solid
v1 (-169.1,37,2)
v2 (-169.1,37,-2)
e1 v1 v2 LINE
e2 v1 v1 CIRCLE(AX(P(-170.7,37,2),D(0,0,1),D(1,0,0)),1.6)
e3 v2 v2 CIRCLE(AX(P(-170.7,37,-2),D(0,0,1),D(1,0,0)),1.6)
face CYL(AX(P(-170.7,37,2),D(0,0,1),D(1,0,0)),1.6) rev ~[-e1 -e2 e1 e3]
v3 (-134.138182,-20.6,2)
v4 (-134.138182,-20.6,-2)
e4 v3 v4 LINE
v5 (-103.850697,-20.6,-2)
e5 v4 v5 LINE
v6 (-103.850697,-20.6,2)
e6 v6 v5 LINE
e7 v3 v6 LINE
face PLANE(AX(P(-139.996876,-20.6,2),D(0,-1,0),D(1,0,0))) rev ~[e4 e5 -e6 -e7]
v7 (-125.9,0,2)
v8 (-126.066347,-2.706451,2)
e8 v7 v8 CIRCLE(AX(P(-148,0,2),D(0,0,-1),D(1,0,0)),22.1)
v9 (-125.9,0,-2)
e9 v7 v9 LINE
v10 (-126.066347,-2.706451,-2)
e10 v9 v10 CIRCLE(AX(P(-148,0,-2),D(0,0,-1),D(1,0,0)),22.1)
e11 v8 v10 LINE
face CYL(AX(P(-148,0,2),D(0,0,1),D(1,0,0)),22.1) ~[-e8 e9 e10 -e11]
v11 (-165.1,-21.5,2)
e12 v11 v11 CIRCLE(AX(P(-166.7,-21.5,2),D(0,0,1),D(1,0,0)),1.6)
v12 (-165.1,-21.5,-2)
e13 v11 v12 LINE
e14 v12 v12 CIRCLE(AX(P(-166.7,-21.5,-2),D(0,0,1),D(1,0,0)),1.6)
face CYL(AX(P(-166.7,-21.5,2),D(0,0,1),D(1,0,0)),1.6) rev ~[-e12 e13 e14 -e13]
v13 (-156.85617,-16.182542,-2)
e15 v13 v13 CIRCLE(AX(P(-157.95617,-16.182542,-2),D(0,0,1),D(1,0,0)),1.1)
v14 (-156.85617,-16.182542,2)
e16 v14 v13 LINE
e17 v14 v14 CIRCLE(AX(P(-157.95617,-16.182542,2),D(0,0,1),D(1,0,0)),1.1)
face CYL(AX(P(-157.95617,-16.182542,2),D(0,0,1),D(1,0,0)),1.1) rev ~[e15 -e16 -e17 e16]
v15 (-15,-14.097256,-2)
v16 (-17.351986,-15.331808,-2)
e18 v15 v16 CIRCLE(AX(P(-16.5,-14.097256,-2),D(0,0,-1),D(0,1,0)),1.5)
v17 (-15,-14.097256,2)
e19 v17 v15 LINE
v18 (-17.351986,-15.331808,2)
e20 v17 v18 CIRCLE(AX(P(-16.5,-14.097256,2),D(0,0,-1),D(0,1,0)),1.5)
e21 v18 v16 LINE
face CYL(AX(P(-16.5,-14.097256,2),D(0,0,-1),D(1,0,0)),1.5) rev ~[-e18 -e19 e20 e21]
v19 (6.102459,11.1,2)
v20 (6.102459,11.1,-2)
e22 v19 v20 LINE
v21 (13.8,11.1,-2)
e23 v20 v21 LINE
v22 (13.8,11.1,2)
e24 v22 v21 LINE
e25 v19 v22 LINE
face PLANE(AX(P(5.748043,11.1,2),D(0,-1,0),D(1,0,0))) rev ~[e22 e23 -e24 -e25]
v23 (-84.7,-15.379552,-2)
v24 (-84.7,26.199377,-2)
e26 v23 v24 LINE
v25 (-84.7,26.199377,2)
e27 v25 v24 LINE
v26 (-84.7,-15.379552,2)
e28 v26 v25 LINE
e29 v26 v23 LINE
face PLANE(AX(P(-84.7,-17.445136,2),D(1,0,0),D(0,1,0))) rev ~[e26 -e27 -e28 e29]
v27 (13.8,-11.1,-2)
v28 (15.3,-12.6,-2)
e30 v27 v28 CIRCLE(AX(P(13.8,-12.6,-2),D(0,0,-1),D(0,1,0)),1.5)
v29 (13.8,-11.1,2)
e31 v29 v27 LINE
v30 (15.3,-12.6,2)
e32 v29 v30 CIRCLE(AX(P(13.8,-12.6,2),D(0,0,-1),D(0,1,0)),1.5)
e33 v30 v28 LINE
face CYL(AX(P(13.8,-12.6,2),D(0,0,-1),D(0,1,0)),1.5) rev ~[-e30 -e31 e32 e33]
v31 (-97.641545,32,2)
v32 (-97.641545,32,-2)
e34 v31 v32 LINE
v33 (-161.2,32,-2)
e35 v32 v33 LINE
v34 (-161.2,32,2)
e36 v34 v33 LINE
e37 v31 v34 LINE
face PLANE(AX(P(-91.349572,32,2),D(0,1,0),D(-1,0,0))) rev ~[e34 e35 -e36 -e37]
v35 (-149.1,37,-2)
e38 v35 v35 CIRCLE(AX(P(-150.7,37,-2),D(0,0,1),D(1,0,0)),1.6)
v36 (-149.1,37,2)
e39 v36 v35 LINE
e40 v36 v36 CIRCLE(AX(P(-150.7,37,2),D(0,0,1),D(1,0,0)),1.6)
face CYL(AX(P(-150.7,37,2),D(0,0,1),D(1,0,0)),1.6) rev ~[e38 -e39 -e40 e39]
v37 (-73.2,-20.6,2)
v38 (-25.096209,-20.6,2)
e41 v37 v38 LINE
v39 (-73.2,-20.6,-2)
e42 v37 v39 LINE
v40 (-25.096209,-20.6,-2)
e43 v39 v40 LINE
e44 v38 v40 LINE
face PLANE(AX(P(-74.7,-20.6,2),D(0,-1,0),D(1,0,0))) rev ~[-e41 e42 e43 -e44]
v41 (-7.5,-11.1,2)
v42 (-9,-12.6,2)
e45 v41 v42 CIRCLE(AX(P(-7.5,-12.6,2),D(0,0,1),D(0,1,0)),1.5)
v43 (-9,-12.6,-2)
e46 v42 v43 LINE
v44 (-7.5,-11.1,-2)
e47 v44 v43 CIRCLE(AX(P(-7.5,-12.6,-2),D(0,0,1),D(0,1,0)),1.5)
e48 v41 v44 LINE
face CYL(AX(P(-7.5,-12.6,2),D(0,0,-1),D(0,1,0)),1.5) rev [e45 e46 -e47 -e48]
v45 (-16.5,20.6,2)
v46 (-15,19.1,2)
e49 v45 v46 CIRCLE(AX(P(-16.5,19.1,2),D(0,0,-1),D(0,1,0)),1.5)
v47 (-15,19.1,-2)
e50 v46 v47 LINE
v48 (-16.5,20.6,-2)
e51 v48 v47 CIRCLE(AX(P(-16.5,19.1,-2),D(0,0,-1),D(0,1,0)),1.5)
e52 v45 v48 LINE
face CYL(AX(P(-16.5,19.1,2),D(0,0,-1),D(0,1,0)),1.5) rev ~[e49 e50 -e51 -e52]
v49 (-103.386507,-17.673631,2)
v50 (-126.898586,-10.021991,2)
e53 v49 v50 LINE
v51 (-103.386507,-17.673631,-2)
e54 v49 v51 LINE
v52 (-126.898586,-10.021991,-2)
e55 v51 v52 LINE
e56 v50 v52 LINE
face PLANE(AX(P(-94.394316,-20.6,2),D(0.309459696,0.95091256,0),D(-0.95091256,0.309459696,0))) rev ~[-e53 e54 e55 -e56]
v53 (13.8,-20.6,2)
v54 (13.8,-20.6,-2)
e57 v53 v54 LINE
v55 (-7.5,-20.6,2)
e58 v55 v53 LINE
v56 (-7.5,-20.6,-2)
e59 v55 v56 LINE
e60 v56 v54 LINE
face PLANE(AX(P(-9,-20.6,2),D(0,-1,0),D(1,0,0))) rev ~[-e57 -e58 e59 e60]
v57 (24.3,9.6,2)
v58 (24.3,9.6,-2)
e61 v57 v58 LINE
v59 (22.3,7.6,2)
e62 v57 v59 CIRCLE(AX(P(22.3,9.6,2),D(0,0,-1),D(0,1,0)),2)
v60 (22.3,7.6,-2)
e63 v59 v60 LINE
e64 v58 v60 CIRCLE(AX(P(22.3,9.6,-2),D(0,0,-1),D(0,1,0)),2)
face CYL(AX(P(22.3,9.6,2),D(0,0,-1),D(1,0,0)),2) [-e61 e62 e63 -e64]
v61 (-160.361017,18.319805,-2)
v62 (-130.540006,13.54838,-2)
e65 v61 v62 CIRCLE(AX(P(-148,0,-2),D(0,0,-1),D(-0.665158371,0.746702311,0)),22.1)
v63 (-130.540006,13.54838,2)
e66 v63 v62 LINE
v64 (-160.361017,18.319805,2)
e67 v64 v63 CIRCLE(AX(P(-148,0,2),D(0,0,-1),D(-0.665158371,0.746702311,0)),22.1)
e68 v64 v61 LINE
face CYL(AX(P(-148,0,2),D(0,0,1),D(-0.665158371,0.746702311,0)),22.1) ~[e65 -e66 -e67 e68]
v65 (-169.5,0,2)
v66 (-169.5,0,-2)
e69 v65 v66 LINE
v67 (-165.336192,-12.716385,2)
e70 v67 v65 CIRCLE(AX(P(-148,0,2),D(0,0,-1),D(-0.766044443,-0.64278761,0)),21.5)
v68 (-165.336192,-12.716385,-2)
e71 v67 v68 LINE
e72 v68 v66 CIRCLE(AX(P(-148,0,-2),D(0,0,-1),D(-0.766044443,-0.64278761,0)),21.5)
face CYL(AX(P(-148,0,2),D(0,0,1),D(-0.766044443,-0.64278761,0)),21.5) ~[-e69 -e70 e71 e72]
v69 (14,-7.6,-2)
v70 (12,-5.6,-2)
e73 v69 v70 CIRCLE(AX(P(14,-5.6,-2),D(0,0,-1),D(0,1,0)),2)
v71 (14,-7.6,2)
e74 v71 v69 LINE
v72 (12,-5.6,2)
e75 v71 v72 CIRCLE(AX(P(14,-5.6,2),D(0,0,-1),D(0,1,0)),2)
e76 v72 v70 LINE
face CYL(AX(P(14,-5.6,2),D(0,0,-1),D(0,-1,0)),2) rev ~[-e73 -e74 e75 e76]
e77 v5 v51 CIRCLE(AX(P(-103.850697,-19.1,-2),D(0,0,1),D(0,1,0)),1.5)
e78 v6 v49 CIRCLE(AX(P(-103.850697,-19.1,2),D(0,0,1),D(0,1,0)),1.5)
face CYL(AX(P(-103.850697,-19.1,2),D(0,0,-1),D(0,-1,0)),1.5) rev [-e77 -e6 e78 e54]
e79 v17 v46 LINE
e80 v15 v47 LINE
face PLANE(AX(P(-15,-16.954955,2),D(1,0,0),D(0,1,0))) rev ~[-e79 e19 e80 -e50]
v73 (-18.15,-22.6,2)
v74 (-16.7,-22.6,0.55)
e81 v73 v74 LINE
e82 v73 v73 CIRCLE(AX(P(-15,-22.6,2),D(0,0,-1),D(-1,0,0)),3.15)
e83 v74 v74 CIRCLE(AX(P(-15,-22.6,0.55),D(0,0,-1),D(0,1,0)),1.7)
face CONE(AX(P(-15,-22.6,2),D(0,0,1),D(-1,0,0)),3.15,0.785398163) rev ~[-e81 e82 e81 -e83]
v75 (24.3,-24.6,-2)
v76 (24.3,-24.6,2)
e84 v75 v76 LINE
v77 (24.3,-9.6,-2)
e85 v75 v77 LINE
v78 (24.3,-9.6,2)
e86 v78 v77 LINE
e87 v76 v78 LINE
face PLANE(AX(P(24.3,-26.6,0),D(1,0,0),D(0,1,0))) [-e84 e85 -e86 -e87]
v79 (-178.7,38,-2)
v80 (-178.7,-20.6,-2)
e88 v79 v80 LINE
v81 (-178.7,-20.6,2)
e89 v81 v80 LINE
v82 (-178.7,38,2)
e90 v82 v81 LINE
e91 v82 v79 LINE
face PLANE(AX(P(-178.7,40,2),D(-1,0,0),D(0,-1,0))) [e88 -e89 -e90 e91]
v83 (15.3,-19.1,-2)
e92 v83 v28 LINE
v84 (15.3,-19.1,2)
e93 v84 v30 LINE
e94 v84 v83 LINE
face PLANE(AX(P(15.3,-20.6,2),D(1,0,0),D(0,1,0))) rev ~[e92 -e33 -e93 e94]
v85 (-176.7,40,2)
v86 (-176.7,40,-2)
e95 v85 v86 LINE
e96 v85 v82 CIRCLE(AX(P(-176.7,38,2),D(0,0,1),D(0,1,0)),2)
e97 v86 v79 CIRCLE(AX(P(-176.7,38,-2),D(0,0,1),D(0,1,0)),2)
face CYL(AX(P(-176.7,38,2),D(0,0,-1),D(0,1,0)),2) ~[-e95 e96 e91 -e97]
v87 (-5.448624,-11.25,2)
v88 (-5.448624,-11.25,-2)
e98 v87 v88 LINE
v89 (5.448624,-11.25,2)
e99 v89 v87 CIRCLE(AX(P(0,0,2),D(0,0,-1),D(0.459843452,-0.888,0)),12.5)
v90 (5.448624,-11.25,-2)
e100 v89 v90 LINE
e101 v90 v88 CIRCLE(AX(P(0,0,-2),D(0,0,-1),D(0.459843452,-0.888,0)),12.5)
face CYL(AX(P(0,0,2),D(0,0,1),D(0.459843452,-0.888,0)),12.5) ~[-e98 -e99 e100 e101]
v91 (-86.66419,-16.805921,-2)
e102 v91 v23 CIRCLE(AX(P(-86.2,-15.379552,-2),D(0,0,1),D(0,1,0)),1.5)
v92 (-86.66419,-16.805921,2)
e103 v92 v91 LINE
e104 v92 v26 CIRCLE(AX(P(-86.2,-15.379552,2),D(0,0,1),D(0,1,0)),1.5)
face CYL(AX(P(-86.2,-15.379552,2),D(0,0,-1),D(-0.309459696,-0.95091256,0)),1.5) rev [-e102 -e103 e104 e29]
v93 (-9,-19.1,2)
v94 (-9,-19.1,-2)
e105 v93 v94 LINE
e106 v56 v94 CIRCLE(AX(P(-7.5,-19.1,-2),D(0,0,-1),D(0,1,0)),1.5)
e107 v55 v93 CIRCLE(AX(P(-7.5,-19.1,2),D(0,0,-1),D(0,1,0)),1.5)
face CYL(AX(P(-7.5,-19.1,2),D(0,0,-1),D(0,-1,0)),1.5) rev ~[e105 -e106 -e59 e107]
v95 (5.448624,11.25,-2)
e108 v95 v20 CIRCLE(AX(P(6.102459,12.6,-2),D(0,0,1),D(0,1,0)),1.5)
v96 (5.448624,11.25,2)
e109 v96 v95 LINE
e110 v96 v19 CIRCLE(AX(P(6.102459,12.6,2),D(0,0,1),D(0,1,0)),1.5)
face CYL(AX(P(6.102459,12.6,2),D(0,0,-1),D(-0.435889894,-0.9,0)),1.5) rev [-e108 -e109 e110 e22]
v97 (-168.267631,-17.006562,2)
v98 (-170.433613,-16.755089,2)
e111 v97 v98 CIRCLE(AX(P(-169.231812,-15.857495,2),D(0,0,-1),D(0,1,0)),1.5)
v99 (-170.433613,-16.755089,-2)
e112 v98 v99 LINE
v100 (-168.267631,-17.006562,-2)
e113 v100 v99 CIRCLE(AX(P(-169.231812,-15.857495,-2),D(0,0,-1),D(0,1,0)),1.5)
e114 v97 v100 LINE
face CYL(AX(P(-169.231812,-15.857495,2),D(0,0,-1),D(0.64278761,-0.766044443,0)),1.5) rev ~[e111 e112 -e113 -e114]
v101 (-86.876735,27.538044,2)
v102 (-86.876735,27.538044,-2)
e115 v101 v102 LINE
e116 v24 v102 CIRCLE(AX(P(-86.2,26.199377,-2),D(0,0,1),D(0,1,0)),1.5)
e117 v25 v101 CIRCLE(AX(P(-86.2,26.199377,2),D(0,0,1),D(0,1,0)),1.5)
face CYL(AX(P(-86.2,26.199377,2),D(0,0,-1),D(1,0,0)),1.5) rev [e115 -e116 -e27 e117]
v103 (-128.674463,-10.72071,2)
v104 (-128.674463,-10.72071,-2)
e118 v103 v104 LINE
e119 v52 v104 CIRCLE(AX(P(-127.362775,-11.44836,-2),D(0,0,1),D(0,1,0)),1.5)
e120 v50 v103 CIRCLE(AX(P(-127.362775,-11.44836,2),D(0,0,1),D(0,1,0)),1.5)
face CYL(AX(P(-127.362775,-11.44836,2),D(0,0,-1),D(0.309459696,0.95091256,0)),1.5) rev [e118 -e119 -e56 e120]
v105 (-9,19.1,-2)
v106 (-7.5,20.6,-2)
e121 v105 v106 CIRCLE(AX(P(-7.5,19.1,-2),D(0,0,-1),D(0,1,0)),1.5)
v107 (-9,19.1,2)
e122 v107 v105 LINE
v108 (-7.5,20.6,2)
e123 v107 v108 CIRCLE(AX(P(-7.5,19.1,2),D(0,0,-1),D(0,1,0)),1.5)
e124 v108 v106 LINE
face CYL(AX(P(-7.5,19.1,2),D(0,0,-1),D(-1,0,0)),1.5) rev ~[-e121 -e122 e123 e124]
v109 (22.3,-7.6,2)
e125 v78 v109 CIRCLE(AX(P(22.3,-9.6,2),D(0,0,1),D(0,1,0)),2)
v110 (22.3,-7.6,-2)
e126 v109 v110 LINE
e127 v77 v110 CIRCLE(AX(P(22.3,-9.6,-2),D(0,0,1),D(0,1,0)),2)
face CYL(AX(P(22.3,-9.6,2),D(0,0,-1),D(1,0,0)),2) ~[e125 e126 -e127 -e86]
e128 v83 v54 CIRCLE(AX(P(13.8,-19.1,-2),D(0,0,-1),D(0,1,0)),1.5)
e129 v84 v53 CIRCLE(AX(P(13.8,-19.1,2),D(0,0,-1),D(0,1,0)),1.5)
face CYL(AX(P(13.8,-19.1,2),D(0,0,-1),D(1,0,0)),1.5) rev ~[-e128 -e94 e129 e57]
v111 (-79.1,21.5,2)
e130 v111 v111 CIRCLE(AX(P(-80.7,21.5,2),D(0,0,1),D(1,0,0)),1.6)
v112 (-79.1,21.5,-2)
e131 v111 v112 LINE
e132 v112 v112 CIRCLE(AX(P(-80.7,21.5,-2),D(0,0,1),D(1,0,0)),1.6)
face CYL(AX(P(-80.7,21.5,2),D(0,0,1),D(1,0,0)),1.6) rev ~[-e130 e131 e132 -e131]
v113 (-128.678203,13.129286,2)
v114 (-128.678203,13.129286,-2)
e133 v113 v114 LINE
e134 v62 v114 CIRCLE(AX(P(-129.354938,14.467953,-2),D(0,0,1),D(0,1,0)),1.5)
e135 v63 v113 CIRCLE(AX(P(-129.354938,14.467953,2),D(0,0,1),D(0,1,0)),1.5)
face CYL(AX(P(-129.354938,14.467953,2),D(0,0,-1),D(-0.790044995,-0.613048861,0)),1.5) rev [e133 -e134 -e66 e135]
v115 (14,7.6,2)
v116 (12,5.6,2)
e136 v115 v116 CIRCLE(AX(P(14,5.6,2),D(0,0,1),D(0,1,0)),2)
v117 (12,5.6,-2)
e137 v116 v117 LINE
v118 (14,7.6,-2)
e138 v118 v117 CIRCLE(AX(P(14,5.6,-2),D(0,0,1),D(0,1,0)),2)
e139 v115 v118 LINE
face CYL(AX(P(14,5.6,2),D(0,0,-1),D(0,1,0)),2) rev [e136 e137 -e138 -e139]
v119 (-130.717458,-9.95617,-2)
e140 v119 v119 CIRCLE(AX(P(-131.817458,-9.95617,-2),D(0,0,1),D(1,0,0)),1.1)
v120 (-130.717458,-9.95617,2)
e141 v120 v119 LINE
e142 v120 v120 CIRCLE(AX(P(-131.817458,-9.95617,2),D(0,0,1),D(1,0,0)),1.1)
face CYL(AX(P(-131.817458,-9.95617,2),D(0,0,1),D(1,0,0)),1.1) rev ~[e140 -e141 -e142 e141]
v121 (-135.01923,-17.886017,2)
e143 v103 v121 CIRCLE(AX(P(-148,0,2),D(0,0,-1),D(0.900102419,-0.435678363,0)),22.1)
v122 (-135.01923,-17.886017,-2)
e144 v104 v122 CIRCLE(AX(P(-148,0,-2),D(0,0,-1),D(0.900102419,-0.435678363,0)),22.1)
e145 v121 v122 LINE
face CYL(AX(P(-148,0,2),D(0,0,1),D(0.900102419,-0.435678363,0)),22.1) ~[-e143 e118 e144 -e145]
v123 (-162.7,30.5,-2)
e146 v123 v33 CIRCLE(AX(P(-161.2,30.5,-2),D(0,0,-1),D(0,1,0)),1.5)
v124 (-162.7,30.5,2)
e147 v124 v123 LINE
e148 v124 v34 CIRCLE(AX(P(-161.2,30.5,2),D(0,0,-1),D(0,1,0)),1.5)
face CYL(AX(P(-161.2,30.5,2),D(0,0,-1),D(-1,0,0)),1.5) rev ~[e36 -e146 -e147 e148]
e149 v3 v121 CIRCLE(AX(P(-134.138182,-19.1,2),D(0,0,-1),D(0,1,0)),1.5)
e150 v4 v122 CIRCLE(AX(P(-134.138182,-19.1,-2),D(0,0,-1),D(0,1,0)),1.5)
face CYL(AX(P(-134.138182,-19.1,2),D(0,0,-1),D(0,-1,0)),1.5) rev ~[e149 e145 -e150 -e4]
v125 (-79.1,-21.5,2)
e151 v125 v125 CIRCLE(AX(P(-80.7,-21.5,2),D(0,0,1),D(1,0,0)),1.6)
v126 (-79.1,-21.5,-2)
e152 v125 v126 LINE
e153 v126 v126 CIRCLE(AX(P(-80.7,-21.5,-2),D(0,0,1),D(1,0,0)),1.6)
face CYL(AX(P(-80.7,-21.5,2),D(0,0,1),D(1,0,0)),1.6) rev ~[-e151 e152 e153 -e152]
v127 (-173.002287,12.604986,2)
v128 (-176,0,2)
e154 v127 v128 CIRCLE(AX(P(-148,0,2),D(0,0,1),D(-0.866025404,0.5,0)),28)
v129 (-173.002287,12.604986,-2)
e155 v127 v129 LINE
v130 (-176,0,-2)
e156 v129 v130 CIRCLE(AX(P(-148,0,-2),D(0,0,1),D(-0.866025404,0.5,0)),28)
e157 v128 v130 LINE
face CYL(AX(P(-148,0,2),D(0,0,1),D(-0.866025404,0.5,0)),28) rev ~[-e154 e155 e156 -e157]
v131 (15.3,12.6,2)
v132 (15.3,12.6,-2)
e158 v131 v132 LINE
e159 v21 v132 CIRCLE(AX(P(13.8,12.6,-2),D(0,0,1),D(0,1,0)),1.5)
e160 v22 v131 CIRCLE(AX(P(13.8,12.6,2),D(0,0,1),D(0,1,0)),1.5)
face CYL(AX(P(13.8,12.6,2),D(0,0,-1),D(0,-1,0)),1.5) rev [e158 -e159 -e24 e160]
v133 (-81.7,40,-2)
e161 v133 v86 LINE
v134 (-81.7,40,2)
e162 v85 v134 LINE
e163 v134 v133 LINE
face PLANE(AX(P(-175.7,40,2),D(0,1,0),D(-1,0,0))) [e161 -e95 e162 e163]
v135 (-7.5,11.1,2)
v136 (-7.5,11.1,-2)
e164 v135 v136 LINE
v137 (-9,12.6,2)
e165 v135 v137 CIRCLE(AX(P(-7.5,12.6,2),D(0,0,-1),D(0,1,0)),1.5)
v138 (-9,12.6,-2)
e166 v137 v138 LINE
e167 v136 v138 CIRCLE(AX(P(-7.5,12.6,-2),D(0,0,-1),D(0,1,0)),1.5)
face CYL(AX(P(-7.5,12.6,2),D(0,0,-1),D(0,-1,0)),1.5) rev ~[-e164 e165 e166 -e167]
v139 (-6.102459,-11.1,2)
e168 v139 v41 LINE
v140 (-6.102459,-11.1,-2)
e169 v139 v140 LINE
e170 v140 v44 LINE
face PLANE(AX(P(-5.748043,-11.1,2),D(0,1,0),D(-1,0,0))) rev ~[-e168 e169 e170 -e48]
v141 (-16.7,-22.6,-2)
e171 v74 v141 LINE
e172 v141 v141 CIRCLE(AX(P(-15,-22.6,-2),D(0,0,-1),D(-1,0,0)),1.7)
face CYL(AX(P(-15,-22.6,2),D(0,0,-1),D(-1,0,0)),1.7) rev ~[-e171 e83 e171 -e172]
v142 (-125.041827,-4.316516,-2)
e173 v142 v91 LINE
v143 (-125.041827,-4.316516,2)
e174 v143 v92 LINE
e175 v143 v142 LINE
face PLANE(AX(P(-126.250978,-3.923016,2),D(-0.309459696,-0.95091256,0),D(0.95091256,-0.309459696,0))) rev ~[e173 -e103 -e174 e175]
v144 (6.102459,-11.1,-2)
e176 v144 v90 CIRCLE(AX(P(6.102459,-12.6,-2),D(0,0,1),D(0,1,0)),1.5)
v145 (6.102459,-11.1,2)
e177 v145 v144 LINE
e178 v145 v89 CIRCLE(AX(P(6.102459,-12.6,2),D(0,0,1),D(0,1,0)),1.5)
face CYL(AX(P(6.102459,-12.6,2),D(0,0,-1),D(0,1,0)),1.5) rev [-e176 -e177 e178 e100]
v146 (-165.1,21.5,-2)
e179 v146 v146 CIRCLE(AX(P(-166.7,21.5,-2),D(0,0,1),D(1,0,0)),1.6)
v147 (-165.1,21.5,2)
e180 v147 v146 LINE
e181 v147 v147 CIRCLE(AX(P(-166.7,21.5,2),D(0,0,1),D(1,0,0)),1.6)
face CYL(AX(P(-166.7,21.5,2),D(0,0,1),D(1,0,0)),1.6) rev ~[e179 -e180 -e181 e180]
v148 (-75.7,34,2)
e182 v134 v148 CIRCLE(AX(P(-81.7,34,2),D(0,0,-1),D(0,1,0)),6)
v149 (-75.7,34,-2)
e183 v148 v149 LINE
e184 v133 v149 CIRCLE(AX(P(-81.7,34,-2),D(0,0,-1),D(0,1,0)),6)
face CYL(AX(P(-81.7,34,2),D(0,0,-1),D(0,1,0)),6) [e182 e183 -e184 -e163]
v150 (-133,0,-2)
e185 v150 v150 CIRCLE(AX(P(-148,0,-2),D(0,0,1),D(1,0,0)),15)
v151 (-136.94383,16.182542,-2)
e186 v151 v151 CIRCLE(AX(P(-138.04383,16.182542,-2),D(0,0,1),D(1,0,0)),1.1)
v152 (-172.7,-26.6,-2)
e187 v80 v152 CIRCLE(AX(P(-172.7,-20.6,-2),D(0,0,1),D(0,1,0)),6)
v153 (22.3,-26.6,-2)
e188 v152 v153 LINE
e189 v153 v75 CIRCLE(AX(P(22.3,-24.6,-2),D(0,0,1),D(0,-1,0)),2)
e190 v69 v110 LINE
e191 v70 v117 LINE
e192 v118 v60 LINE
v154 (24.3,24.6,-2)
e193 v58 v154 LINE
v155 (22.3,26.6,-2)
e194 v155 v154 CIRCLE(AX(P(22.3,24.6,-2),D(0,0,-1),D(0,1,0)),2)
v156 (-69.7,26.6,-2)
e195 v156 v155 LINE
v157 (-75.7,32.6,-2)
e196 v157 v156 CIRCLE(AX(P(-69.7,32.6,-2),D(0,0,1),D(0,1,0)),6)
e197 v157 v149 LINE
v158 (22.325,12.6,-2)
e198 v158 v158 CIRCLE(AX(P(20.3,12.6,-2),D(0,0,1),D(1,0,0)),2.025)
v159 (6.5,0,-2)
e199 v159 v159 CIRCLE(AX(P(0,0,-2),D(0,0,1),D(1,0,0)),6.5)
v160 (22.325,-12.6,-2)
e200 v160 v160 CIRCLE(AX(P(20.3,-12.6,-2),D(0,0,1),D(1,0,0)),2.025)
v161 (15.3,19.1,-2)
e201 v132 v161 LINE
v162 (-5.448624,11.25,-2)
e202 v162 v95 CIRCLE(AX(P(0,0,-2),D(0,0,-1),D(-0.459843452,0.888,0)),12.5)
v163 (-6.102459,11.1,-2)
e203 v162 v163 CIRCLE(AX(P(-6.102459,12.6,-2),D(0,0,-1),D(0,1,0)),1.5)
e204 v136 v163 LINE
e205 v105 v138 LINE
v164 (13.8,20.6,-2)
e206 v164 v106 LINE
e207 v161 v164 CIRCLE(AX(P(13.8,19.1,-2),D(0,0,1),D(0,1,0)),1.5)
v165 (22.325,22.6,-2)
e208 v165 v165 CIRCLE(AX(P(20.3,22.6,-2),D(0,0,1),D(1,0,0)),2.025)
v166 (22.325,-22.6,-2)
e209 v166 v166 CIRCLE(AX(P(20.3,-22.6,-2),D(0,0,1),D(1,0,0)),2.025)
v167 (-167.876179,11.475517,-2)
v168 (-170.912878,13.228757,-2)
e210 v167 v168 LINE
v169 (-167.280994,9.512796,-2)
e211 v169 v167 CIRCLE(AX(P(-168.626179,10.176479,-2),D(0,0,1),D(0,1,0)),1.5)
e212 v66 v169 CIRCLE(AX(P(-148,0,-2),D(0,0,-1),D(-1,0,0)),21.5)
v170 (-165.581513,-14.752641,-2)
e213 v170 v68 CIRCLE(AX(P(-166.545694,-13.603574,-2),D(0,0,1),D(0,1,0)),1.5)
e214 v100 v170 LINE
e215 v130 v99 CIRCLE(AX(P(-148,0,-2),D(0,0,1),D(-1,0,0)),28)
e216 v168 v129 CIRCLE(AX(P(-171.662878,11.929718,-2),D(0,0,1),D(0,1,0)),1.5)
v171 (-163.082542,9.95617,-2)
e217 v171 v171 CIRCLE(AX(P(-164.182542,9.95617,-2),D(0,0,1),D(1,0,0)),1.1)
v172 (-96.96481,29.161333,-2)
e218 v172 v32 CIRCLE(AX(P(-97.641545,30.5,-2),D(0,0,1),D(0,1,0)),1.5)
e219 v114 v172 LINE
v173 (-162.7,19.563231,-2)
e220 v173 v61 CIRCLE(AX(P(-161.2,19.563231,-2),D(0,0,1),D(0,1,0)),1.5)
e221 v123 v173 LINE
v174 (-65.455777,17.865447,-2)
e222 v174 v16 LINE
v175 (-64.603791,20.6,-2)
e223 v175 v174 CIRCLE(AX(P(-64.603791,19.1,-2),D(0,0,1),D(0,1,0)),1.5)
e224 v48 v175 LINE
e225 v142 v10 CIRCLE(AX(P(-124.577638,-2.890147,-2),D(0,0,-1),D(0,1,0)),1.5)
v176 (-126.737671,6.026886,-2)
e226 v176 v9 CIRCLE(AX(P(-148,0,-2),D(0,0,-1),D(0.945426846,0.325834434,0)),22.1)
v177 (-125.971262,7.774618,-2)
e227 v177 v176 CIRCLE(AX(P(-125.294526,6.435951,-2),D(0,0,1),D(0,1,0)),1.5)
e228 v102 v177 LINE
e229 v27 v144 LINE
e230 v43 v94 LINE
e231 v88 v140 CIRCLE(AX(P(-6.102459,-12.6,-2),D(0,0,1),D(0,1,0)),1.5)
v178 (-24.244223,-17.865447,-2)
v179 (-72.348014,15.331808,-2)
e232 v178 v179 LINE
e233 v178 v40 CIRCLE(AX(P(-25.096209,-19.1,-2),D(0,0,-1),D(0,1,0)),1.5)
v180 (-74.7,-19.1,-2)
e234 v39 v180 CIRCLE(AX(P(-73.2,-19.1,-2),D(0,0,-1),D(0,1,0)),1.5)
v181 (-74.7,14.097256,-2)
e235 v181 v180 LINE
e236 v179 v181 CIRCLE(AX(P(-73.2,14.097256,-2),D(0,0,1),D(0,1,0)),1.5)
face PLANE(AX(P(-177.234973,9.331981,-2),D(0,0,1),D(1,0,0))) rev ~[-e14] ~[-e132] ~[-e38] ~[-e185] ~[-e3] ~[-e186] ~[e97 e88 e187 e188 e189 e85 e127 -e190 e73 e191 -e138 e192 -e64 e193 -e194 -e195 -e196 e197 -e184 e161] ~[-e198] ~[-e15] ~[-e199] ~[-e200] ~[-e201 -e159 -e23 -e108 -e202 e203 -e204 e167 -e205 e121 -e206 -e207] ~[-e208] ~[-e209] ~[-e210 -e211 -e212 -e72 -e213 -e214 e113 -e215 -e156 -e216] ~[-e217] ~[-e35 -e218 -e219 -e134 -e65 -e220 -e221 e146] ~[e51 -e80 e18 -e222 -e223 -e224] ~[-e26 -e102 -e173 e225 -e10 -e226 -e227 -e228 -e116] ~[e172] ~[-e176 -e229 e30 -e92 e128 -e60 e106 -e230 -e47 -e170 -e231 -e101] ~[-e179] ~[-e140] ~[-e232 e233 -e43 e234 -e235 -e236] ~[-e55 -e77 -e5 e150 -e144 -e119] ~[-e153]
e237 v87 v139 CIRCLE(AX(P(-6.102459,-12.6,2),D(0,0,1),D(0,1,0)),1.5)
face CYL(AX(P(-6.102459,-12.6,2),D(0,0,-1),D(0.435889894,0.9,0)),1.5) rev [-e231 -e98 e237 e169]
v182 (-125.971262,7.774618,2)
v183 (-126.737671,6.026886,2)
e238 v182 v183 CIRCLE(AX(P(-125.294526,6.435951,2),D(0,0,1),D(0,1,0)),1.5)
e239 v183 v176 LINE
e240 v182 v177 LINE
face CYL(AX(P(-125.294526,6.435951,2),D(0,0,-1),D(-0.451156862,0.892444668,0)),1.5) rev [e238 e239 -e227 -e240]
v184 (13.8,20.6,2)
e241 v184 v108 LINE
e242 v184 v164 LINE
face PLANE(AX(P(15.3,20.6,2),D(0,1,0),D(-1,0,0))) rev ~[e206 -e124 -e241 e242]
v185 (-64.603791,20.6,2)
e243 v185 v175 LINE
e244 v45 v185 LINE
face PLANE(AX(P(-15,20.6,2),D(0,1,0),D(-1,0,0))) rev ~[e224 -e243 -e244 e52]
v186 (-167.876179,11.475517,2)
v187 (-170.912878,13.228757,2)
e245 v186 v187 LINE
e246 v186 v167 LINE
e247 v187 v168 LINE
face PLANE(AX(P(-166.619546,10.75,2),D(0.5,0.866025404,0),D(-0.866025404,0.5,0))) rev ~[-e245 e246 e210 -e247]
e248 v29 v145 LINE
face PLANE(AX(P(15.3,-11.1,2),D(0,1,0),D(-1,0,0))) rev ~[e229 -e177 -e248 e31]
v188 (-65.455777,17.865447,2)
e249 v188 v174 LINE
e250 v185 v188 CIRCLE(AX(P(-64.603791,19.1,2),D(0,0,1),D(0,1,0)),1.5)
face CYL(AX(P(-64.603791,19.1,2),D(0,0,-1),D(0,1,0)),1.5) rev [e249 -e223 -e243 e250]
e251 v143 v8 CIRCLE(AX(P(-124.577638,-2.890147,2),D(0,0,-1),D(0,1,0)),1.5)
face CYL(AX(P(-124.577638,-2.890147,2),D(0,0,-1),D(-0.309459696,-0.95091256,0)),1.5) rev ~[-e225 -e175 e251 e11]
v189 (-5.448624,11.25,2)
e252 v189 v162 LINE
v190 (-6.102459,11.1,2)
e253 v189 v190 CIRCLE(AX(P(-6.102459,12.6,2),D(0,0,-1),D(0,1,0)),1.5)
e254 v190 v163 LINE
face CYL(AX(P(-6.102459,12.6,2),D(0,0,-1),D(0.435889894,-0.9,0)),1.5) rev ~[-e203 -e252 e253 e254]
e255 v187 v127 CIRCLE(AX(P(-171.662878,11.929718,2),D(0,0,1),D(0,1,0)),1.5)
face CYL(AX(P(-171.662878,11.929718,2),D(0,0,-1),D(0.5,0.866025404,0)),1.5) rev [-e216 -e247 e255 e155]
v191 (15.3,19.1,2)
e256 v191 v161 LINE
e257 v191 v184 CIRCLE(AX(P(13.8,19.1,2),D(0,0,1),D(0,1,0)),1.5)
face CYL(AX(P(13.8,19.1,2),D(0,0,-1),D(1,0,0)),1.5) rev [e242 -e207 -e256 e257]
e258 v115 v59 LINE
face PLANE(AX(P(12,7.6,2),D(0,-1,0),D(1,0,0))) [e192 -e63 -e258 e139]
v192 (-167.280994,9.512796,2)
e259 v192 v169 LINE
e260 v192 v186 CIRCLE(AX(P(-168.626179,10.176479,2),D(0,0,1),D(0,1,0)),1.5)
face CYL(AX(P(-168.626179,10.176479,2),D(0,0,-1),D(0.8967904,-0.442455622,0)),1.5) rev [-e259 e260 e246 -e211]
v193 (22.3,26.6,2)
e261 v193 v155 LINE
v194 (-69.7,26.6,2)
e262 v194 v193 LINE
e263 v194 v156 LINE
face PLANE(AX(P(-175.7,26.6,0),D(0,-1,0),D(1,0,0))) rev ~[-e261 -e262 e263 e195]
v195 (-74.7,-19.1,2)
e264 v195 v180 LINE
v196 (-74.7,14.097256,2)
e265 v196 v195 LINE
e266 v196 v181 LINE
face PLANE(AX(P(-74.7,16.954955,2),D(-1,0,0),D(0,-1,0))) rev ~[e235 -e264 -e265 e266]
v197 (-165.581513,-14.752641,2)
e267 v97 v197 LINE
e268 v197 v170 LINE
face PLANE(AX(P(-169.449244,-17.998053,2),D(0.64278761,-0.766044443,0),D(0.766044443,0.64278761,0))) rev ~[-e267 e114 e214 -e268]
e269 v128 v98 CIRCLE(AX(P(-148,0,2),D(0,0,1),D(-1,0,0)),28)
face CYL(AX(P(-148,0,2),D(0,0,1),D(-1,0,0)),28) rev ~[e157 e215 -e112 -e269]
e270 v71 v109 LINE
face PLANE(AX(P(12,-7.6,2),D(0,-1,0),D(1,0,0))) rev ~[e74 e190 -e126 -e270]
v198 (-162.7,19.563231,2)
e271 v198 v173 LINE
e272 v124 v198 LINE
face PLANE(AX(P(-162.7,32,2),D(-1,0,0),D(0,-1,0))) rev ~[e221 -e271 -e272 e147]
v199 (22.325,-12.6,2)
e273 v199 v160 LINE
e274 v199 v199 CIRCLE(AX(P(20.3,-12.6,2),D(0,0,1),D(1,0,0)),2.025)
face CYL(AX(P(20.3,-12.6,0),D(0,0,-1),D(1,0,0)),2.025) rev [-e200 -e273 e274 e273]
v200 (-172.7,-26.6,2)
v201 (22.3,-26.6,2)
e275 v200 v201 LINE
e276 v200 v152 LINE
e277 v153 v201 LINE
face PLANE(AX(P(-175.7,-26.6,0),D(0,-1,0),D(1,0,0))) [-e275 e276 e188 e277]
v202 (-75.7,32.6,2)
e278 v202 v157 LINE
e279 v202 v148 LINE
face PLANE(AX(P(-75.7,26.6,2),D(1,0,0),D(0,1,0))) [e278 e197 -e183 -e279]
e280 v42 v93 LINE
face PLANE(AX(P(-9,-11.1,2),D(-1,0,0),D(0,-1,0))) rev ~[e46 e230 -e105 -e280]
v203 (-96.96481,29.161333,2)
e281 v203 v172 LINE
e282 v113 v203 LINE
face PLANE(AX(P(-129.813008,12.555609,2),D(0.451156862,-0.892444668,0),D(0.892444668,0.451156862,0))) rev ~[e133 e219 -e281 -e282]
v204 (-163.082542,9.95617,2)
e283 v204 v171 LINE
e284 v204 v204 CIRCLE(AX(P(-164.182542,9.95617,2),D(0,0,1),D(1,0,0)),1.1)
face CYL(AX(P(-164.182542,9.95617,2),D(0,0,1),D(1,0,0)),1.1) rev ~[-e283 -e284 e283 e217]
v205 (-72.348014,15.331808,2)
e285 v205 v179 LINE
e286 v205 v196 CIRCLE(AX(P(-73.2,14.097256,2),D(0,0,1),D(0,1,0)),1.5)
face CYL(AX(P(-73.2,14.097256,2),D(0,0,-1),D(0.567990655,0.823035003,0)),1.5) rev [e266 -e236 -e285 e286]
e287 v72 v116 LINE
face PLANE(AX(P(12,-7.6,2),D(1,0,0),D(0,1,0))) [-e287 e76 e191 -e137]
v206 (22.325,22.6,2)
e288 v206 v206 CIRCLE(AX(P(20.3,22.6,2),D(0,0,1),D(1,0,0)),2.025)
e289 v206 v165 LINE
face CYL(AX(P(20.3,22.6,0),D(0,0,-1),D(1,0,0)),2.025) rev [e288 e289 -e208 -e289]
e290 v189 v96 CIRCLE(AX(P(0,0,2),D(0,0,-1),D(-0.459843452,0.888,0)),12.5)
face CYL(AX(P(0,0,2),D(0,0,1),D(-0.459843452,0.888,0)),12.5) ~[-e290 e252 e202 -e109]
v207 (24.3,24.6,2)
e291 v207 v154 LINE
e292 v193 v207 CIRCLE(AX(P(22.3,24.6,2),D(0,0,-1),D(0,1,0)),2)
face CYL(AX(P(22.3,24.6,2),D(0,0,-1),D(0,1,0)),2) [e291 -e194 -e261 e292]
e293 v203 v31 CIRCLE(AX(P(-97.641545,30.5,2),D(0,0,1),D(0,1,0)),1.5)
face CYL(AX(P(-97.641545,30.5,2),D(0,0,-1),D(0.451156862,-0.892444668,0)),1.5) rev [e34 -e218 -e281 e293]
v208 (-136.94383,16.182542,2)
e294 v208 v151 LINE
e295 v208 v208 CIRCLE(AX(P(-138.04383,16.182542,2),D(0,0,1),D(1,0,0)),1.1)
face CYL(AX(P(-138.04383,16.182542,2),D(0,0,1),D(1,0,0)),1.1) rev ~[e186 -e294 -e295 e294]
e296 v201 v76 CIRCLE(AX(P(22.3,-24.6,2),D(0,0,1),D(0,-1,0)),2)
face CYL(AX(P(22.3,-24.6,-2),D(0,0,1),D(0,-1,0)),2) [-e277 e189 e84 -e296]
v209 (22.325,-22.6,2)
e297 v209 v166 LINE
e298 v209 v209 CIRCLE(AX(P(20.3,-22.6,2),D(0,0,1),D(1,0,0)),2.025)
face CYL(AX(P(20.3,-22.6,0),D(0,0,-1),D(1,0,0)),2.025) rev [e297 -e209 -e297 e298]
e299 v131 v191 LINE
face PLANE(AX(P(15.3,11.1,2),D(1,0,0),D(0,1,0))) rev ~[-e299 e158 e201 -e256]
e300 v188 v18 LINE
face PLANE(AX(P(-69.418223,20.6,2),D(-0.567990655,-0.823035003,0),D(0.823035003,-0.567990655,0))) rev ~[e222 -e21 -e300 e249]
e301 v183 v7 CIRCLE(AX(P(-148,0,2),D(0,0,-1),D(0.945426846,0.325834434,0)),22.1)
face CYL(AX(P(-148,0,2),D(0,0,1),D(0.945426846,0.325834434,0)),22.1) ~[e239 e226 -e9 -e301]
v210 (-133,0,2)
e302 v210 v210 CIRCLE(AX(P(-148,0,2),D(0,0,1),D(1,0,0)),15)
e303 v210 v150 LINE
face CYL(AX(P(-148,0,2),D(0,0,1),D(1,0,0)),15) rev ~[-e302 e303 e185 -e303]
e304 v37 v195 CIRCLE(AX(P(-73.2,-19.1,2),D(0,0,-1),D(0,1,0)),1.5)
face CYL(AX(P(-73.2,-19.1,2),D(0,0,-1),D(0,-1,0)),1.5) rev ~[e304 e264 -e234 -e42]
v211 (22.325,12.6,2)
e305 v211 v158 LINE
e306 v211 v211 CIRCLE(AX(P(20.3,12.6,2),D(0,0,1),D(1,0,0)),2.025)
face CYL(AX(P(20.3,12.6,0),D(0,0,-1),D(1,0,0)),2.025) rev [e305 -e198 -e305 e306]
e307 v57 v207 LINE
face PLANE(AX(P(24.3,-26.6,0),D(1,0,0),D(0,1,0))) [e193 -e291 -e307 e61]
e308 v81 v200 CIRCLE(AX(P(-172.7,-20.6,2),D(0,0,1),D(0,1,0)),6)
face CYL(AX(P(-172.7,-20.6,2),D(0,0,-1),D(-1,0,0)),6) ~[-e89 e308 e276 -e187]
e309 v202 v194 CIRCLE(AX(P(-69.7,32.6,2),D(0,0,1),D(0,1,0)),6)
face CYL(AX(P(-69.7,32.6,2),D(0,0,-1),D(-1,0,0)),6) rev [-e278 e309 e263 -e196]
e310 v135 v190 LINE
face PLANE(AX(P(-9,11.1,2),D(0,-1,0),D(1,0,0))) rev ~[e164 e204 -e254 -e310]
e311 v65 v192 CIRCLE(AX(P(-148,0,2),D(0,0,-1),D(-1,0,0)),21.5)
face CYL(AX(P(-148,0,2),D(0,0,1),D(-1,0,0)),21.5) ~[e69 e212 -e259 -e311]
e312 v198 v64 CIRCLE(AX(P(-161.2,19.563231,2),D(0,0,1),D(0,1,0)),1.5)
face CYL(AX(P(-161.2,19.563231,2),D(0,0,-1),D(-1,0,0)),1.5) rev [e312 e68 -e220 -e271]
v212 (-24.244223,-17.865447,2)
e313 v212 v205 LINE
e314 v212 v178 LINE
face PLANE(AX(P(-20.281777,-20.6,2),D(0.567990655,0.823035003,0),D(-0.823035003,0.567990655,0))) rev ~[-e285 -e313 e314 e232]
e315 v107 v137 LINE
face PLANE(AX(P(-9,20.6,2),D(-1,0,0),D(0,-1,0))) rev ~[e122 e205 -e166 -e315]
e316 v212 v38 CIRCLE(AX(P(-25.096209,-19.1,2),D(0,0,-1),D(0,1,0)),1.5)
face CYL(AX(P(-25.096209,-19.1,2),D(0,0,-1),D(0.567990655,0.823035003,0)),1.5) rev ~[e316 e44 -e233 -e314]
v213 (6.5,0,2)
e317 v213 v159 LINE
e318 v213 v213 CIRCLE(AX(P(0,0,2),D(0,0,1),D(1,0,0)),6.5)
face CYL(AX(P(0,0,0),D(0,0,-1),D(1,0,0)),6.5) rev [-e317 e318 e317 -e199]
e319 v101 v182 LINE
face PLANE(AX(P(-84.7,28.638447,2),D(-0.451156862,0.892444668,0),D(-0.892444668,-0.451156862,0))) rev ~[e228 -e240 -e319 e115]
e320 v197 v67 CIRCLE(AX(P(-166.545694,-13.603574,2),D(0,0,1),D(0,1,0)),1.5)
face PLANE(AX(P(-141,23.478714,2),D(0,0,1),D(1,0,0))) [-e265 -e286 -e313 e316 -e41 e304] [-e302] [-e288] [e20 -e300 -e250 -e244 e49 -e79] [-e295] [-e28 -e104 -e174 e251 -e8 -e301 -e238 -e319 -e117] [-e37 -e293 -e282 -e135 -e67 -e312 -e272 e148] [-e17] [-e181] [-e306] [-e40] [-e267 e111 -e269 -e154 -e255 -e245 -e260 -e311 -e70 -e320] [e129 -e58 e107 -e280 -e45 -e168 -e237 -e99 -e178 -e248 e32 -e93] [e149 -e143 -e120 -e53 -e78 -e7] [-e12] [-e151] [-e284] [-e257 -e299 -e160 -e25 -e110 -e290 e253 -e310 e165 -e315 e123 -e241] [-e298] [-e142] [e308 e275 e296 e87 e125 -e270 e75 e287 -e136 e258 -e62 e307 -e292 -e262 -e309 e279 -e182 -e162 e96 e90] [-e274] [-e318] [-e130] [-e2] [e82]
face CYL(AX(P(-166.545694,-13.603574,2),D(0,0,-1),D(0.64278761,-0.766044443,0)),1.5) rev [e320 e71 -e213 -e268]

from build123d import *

# Parameters (mm, degrees)
SKETCH_1_W                   = 200
SKETCH_1_H                   = 53.2
SKETCH_1_R                   = 6.5
SKETCH_1_R_2                 = 2.025
EXTRUDE_1_DEPTH              = 2
SKETCH_2_R                   = 20
CUT_EXTRUDE_1_DEPTH          = 5
CUT_EXTRUDE_2_DEPTH          = 10
SKETCH_4_R                   = 1.1
CUT_EXTRUDE_3_DEPTH          = 10
SKETCH_5_W                   = 100
SKETCH_5_H                   = 13.4
SKETCH_5_R                   = 1.6
EXTRUDE_2_DEPTH              = 4
EXTRUDE_3_DEPTH              = 4
SKETCH_7_R                   = 1.1
SKETCH_7_R_2                 = 15
EXTRUDE_4_DEPTH              = 4
SKETCH_9_R                   = 1.1
CUT_EXTRUDE_4_DEPTH          = 10
SKETCH_11_R                  = 1.6
CUT_EXTRUDE_6_DEPTH          = 4
FILLET_1_R                   = 6
SKETCH_17_W                  = 12.3
SKETCH_17_H                  = 15.2
CUT_EXTRUDE_9_DEPTH          = 4
CUT_EXTRUDE_10_DEPTH         = 4
CUT_EXTRUDE_11_DEPTH         = 4
FILLET_2_R                   = 1.5
CUT_EXTRUDE_12_DEPTH         = 4
FILLET_3_R                   = 1.5
SKETCH_21_R                  = 1.55
CUT_EXTRUDE_13_DEPTH         = 10
FILLET_4_R                   = 2
HOLE_WIZARD_M3_1_D           = 3.4
HOLE_WIZARD_M3_1_CSINK_D     = 6.3
HOLE_WIZARD_M3_1_CSINK_ANGLE = 90


with BuildPart() as part:
    # 草图1 → 凸台-拉伸1 (new, symmetric)
    with BuildSketch(Plane.XY):
        with Locations((-75.7, 0)):
            Rectangle(SKETCH_1_W, SKETCH_1_H)
        Circle(SKETCH_1_R, mode=Mode.SUBTRACT)
        with Locations((20.3, 22.6)):
            Circle(SKETCH_1_R_2, mode=Mode.SUBTRACT)
        with Locations((20.3, 12.6)):
            Circle(SKETCH_1_R_2, mode=Mode.SUBTRACT)
        with Locations((20.3, -12.6)):
            Circle(SKETCH_1_R_2, mode=Mode.SUBTRACT)
        with Locations((20.3, -22.6)):
            Circle(SKETCH_1_R_2, mode=Mode.SUBTRACT)
    extrude(amount=EXTRUDE_1_DEPTH, both=True)

    # 草图2 → 切除-拉伸1 (cut)
    with BuildSketch(Plane.XY.offset(2)):
        with Locations((-148, 0)):
            Circle(SKETCH_2_R)
    extrude(amount=-CUT_EXTRUDE_1_DEPTH, mode=Mode.SUBTRACT)

    # 草图3 → 切除-拉伸2 (cut)
    with BuildSketch(Plane.XY.offset(2)):
        with BuildLine():
            Line((-136.21195189, -26.6), (-139.272801212, -12.199836119))
            ThreePointArc((-139.272801212, -12.199836119), (-152.260230171, -14.382296023), (-161.963751735, -5.47847036))
            Line((-161.963751735, -5.47847036), (-175.7, -19.214718626))
            Line((-175.7, -19.214718626), (-175.7, -26.6))
            Line((-175.7, -26.6), (-136.21195189, -26.6))
        make_face()
    extrude(amount=-CUT_EXTRUDE_2_DEPTH, mode=Mode.SUBTRACT)

    # 草图4 → 切除-拉伸3 (cut)
    with BuildSketch(Plane.XY.offset(2)):
        with Locations((-141, 23.478713764)):
            Circle(SKETCH_4_R)
        with Locations((-131.166837432, -17.801534708)):
            Circle(SKETCH_4_R)
        with Locations((-171.833162568, -5.677179055)):
            Circle(SKETCH_4_R)
    extrude(amount=-CUT_EXTRUDE_3_DEPTH, mode=Mode.SUBTRACT)

    # 草图5 → 凸台-拉伸2 (add)
    with BuildSketch(Plane.XY.offset(2)):
        with Locations((-125.7, 33.3)):
            Rectangle(SKETCH_5_W, SKETCH_5_H)
        with Locations((-170.7, 37)):
            Circle(SKETCH_5_R, mode=Mode.SUBTRACT)
        with Locations((-150.7, 37)):
            Circle(SKETCH_5_R, mode=Mode.SUBTRACT)
    extrude(amount=-EXTRUDE_2_DEPTH)

    # 草图6 → 凸台-拉伸3 (add)
    with BuildSketch(Plane.XY.offset(2)):
        Polygon((-175.7, 40), (-178.7, 40), (-178.7, -22.214718626), (-175.7, -19.214718626), align=None)
    extrude(amount=-EXTRUDE_3_DEPTH)

    # 草图7 → 凸台-拉伸4 (add)
    # profile 1 of 4: a face of its own
    with BuildSketch(Plane.XY.offset(2)):
        with Locations((-141, 23.478713764)):
            Circle(SKETCH_7_R)
    # profile 2 of 4: a face of its own
    with BuildSketch(Plane.XY.offset(2)):
        with Locations((-171.833162568, -5.677179055)):
            Circle(SKETCH_7_R)
    # profile 3 of 4: a face of its own
    with BuildSketch(Plane.XY.offset(2)):
        with Locations((-131.166837432, -17.801534708)):
            Circle(SKETCH_7_R)
    # profile 4 of 4: a face of its own
    with BuildSketch(Plane.XY.offset(2)):
        with BuildLine():
            Line((-136.21195189, -26.6), (-178.7, -26.6))
            Line((-178.7, -26.6), (-178.7, -22.214718626))
            Line((-178.7, -22.214718626), (-165.73337825, -9.248096876))
            ThreePointArc((-165.73337825, -9.248096876), (-142.319693106, 19.176394697), (-138.16441215, -17.414396677))
            Line((-138.16441215, -17.414396677), (-136.21195189, -26.6))
        make_face()
        with Locations((-148, 0)):
            Circle(SKETCH_7_R_2, mode=Mode.SUBTRACT)
    extrude(amount=-EXTRUDE_4_DEPTH)

    # 草图9 → 切除-拉伸4 (cut)
    with BuildSketch(Plane.XY.offset(2)):
        with Locations((-138.043830116, 16.182542484)):
            Circle(SKETCH_9_R)
        with Locations((-164.182542484, 9.956169884)):
            Circle(SKETCH_9_R)
        with Locations((-157.956169884, -16.182542484)):
            Circle(SKETCH_9_R)
        with Locations((-131.817457516, -9.956169884)):
            Circle(SKETCH_9_R)
    extrude(amount=-CUT_EXTRUDE_4_DEPTH, mode=Mode.SUBTRACT)

    # 草图11 → 切除-拉伸6 (cut)
    with BuildSketch(Plane.XY.offset(2)):
        with Locations((-166.7, 21.5)):
            Circle(SKETCH_11_R)
        with Locations((-80.7, 21.5)):
            Circle(SKETCH_11_R)
        with Locations((-166.7, -21.5)):
            Circle(SKETCH_11_R)
        with Locations((-80.7, -21.5)):
            Circle(SKETCH_11_R)
    extrude(amount=-CUT_EXTRUDE_6_DEPTH, mode=Mode.SUBTRACT)

    # 圆角1
    fillet_1_edges = [part.edges().sort_by_distance(p)[0] for p in [
        (-178.7, -26.6, 0),
        (-75.7, 40, 0),
        (-75.7, 26.6, 0),
    ]]
    fillet(fillet_1_edges, radius=FILLET_1_R)

    # 草图17 → 切除-拉伸9 (cut)
    with BuildSketch(Plane.XY.offset(2)):
        with Locations((18.15, 0)):
            Rectangle(SKETCH_17_W, SKETCH_17_H)
        with BuildLine():
            Line((15.3, -11.1), (5.748043145, -11.1))
            ThreePointArc((5.748043145, -11.1), (0, -12.5), (-5.748043145, -11.1))
            Line((-5.748043145, -11.1), (-9, -11.1))
            Line((-9, -11.1), (-9, -20.6))
            Line((-9, -20.6), (15.3, -20.6))
            Line((15.3, -20.6), (15.3, -11.1))
        make_face()
        with BuildLine():
            ThreePointArc((-5.748043145, 11.1), (0, 12.5), (5.748043145, 11.1))
            Line((5.748043145, 11.1), (15.3, 11.1))
            Line((15.3, 11.1), (15.3, 20.6))
            Line((15.3, 20.6), (-9, 20.6))
            Line((-9, 20.6), (-9, 11.1))
            Line((-9, 11.1), (-5.748043145, 11.1))
        make_face()
    extrude(amount=-CUT_EXTRUDE_9_DEPTH, mode=Mode.SUBTRACT)

    # 草图18 → 切除-拉伸10 (cut)
    with BuildSketch(Plane.XY.offset(2)):
        Polygon((-20.281777038, -20.6), (-74.7, 16.95495454), (-74.7, -20.6), align=None)
        Polygon((-15, 20.6), (-69.418222962, 20.6), (-15, -16.95495454), align=None)
    extrude(amount=-CUT_EXTRUDE_10_DEPTH, mode=Mode.SUBTRACT)

    # 草图19 → 切除-拉伸11 (cut)
    with BuildSketch(Plane.XY.offset(2)):
        with BuildLine():
            Line((-139.99687561, -20.6), (-94.394315744, -20.6))
            Line((-94.394315744, -20.6), (-128.107736542, -9.62849181))
            ThreePointArc((-128.107736542, -9.62849181), (-133.012282903, -16.241254145), (-139.99687561, -20.6))
        make_face()
        with BuildLine():
            Line((-126.250978368, -3.92301645), (-84.7, -17.445135792))
            Line((-84.7, -17.445135792), (-84.7, 28.638447058))
            Line((-84.7, 28.638447058), (-127.106066696, 7.200940987))
            ThreePointArc((-127.106066696, 7.200940987), (-126.203602063, 3.650621453), (-125.9, 0))
            ThreePointArc((-125.9, 0), (-125.987919475, -1.969342776), (-126.250978368, -3.92301645))
        make_face()
        with BuildLine():
            Line((-162.7, 32), (-162.7, 16.502121076))
            ThreePointArc((-162.7, 16.502121076), (-145.366842593, 21.942572367), (-129.81300787, 12.555608996))
            Line((-129.81300787, 12.555608996), (-91.349571914, 32))
            Line((-91.349571914, 32), (-162.7, 32))
        make_face()
    extrude(amount=-CUT_EXTRUDE_11_DEPTH, mode=Mode.SUBTRACT)

    # 圆角2
    fillet_2_edges = [part.edges().sort_by_distance(p)[0] for p in [
        (-5.748043145, -11.1, 0),
        (5.748043145, -11.1, 0),
        (15.3, -11.1, 0),
        (15.3, -20.6, 0),
        (-9, -20.6, 0),
        (-9, -11.1, 0),
        (5.748043145, 11.1, 0),
        (-5.748043145, 11.1, 0),
        (-9, 11.1, 0),
        (-9, 20.6, 0),
        (15.3, 20.6, 0),
        (15.3, 11.1, 0),
        (-69.418222962, 20.6, 0),
        (-15, 20.6, 0),
        (-15, -16.95495454, 0),
        (-20.281777038, -20.6, 0),
        (-74.7, -20.6, 0),
        (-74.7, 16.95495454, 0),
        (-126.250978368, -3.92301645, 0),
        (-127.106066696, 7.200940987, 0),
        (-84.7, 28.638447058, 0),
        (-84.7, -17.445135792, 0),
        (-129.81300787, 12.555608996, 0),
        (-162.7, 16.502121076, 0),
        (-162.7, 32, 0),
        (-91.349571914, 32, 0),
        (-139.99687561, -20.6, 0),
        (-128.107736542, -9.62849181, 0),
        (-94.394315744, -20.6, 0),
    ]]
    fillet(fillet_2_edges, radius=FILLET_2_R)

    # 草图20 → 切除-拉伸12 (cut)
    with BuildSketch(Plane.XY.offset(2)):
        with BuildLine():
            Line((-169.449244407, -17.998053071), (-164.469955527, -13.819933608))
            ThreePointArc((-164.469955527, -13.819933608), (-168.203391347, -7.353433082), (-169.5, 0))
            Line((-169.5, 0), (-176, 0))
            ThreePointArc((-176, 0), (-174.311393382, -9.576564013), (-169.449244407, -17.998053071))
        make_face()
        with BuildLine():
            ThreePointArc((-169.5, 0), (-168.767405265, 5.56460947), (-166.619546181, 10.75))
            Line((-166.619546181, 10.75), (-172.248711306, 14))
            ThreePointArc((-172.248711306, 14), (-175.045923136, 7.246933263), (-176, 0))
            Line((-176, 0), (-169.5, 0))
        make_face()
    extrude(amount=-CUT_EXTRUDE_12_DEPTH, mode=Mode.SUBTRACT)

    # 圆角3
    fillet_3_edges = [part.edges().sort_by_distance(p)[0] for p in [
        (-166.619546181, 10.75, 0),
        (-164.469955527, -13.819933608, 0),
        (-169.449244407, -17.998053071, 0),
        (-172.248711306, 14, 0),
    ]]
    fillet(fillet_3_edges, radius=FILLET_3_R)

    # 草图21 → 切除-拉伸13 (cut)
    with BuildSketch(Plane.XY.offset(2)):
        with Locations((-15, -22.6)):
            Circle(SKETCH_21_R)
    extrude(amount=-CUT_EXTRUDE_13_DEPTH, mode=Mode.SUBTRACT)

    # 圆角4
    fillet_4_edges = [part.edges().sort_by_distance(p)[0] for p in [
        (-178.7, 40, 0),
        (12, 7.6, 0),
        (24.3, 7.6, 0),
        (24.3, -7.6, 0),
        (12, -7.6, 0),
        (24.3, 26.6, 0),
        (24.3, -26.6, 0),
    ]]
    fillet(fillet_4_edges, radius=FILLET_4_R)

    # M3 锥坑平头螺钉的锥形沉头孔1 (through all)
    with Locations(Plane.XY.offset(2)):
        with Locations((-15, -22.6)):
            CounterSinkHole(HOLE_WIZARD_M3_1_D / 2, HOLE_WIZARD_M3_1_CSINK_D / 2, counter_sink_angle=HOLE_WIZARD_M3_1_CSINK_ANGLE)


solid = part.part
